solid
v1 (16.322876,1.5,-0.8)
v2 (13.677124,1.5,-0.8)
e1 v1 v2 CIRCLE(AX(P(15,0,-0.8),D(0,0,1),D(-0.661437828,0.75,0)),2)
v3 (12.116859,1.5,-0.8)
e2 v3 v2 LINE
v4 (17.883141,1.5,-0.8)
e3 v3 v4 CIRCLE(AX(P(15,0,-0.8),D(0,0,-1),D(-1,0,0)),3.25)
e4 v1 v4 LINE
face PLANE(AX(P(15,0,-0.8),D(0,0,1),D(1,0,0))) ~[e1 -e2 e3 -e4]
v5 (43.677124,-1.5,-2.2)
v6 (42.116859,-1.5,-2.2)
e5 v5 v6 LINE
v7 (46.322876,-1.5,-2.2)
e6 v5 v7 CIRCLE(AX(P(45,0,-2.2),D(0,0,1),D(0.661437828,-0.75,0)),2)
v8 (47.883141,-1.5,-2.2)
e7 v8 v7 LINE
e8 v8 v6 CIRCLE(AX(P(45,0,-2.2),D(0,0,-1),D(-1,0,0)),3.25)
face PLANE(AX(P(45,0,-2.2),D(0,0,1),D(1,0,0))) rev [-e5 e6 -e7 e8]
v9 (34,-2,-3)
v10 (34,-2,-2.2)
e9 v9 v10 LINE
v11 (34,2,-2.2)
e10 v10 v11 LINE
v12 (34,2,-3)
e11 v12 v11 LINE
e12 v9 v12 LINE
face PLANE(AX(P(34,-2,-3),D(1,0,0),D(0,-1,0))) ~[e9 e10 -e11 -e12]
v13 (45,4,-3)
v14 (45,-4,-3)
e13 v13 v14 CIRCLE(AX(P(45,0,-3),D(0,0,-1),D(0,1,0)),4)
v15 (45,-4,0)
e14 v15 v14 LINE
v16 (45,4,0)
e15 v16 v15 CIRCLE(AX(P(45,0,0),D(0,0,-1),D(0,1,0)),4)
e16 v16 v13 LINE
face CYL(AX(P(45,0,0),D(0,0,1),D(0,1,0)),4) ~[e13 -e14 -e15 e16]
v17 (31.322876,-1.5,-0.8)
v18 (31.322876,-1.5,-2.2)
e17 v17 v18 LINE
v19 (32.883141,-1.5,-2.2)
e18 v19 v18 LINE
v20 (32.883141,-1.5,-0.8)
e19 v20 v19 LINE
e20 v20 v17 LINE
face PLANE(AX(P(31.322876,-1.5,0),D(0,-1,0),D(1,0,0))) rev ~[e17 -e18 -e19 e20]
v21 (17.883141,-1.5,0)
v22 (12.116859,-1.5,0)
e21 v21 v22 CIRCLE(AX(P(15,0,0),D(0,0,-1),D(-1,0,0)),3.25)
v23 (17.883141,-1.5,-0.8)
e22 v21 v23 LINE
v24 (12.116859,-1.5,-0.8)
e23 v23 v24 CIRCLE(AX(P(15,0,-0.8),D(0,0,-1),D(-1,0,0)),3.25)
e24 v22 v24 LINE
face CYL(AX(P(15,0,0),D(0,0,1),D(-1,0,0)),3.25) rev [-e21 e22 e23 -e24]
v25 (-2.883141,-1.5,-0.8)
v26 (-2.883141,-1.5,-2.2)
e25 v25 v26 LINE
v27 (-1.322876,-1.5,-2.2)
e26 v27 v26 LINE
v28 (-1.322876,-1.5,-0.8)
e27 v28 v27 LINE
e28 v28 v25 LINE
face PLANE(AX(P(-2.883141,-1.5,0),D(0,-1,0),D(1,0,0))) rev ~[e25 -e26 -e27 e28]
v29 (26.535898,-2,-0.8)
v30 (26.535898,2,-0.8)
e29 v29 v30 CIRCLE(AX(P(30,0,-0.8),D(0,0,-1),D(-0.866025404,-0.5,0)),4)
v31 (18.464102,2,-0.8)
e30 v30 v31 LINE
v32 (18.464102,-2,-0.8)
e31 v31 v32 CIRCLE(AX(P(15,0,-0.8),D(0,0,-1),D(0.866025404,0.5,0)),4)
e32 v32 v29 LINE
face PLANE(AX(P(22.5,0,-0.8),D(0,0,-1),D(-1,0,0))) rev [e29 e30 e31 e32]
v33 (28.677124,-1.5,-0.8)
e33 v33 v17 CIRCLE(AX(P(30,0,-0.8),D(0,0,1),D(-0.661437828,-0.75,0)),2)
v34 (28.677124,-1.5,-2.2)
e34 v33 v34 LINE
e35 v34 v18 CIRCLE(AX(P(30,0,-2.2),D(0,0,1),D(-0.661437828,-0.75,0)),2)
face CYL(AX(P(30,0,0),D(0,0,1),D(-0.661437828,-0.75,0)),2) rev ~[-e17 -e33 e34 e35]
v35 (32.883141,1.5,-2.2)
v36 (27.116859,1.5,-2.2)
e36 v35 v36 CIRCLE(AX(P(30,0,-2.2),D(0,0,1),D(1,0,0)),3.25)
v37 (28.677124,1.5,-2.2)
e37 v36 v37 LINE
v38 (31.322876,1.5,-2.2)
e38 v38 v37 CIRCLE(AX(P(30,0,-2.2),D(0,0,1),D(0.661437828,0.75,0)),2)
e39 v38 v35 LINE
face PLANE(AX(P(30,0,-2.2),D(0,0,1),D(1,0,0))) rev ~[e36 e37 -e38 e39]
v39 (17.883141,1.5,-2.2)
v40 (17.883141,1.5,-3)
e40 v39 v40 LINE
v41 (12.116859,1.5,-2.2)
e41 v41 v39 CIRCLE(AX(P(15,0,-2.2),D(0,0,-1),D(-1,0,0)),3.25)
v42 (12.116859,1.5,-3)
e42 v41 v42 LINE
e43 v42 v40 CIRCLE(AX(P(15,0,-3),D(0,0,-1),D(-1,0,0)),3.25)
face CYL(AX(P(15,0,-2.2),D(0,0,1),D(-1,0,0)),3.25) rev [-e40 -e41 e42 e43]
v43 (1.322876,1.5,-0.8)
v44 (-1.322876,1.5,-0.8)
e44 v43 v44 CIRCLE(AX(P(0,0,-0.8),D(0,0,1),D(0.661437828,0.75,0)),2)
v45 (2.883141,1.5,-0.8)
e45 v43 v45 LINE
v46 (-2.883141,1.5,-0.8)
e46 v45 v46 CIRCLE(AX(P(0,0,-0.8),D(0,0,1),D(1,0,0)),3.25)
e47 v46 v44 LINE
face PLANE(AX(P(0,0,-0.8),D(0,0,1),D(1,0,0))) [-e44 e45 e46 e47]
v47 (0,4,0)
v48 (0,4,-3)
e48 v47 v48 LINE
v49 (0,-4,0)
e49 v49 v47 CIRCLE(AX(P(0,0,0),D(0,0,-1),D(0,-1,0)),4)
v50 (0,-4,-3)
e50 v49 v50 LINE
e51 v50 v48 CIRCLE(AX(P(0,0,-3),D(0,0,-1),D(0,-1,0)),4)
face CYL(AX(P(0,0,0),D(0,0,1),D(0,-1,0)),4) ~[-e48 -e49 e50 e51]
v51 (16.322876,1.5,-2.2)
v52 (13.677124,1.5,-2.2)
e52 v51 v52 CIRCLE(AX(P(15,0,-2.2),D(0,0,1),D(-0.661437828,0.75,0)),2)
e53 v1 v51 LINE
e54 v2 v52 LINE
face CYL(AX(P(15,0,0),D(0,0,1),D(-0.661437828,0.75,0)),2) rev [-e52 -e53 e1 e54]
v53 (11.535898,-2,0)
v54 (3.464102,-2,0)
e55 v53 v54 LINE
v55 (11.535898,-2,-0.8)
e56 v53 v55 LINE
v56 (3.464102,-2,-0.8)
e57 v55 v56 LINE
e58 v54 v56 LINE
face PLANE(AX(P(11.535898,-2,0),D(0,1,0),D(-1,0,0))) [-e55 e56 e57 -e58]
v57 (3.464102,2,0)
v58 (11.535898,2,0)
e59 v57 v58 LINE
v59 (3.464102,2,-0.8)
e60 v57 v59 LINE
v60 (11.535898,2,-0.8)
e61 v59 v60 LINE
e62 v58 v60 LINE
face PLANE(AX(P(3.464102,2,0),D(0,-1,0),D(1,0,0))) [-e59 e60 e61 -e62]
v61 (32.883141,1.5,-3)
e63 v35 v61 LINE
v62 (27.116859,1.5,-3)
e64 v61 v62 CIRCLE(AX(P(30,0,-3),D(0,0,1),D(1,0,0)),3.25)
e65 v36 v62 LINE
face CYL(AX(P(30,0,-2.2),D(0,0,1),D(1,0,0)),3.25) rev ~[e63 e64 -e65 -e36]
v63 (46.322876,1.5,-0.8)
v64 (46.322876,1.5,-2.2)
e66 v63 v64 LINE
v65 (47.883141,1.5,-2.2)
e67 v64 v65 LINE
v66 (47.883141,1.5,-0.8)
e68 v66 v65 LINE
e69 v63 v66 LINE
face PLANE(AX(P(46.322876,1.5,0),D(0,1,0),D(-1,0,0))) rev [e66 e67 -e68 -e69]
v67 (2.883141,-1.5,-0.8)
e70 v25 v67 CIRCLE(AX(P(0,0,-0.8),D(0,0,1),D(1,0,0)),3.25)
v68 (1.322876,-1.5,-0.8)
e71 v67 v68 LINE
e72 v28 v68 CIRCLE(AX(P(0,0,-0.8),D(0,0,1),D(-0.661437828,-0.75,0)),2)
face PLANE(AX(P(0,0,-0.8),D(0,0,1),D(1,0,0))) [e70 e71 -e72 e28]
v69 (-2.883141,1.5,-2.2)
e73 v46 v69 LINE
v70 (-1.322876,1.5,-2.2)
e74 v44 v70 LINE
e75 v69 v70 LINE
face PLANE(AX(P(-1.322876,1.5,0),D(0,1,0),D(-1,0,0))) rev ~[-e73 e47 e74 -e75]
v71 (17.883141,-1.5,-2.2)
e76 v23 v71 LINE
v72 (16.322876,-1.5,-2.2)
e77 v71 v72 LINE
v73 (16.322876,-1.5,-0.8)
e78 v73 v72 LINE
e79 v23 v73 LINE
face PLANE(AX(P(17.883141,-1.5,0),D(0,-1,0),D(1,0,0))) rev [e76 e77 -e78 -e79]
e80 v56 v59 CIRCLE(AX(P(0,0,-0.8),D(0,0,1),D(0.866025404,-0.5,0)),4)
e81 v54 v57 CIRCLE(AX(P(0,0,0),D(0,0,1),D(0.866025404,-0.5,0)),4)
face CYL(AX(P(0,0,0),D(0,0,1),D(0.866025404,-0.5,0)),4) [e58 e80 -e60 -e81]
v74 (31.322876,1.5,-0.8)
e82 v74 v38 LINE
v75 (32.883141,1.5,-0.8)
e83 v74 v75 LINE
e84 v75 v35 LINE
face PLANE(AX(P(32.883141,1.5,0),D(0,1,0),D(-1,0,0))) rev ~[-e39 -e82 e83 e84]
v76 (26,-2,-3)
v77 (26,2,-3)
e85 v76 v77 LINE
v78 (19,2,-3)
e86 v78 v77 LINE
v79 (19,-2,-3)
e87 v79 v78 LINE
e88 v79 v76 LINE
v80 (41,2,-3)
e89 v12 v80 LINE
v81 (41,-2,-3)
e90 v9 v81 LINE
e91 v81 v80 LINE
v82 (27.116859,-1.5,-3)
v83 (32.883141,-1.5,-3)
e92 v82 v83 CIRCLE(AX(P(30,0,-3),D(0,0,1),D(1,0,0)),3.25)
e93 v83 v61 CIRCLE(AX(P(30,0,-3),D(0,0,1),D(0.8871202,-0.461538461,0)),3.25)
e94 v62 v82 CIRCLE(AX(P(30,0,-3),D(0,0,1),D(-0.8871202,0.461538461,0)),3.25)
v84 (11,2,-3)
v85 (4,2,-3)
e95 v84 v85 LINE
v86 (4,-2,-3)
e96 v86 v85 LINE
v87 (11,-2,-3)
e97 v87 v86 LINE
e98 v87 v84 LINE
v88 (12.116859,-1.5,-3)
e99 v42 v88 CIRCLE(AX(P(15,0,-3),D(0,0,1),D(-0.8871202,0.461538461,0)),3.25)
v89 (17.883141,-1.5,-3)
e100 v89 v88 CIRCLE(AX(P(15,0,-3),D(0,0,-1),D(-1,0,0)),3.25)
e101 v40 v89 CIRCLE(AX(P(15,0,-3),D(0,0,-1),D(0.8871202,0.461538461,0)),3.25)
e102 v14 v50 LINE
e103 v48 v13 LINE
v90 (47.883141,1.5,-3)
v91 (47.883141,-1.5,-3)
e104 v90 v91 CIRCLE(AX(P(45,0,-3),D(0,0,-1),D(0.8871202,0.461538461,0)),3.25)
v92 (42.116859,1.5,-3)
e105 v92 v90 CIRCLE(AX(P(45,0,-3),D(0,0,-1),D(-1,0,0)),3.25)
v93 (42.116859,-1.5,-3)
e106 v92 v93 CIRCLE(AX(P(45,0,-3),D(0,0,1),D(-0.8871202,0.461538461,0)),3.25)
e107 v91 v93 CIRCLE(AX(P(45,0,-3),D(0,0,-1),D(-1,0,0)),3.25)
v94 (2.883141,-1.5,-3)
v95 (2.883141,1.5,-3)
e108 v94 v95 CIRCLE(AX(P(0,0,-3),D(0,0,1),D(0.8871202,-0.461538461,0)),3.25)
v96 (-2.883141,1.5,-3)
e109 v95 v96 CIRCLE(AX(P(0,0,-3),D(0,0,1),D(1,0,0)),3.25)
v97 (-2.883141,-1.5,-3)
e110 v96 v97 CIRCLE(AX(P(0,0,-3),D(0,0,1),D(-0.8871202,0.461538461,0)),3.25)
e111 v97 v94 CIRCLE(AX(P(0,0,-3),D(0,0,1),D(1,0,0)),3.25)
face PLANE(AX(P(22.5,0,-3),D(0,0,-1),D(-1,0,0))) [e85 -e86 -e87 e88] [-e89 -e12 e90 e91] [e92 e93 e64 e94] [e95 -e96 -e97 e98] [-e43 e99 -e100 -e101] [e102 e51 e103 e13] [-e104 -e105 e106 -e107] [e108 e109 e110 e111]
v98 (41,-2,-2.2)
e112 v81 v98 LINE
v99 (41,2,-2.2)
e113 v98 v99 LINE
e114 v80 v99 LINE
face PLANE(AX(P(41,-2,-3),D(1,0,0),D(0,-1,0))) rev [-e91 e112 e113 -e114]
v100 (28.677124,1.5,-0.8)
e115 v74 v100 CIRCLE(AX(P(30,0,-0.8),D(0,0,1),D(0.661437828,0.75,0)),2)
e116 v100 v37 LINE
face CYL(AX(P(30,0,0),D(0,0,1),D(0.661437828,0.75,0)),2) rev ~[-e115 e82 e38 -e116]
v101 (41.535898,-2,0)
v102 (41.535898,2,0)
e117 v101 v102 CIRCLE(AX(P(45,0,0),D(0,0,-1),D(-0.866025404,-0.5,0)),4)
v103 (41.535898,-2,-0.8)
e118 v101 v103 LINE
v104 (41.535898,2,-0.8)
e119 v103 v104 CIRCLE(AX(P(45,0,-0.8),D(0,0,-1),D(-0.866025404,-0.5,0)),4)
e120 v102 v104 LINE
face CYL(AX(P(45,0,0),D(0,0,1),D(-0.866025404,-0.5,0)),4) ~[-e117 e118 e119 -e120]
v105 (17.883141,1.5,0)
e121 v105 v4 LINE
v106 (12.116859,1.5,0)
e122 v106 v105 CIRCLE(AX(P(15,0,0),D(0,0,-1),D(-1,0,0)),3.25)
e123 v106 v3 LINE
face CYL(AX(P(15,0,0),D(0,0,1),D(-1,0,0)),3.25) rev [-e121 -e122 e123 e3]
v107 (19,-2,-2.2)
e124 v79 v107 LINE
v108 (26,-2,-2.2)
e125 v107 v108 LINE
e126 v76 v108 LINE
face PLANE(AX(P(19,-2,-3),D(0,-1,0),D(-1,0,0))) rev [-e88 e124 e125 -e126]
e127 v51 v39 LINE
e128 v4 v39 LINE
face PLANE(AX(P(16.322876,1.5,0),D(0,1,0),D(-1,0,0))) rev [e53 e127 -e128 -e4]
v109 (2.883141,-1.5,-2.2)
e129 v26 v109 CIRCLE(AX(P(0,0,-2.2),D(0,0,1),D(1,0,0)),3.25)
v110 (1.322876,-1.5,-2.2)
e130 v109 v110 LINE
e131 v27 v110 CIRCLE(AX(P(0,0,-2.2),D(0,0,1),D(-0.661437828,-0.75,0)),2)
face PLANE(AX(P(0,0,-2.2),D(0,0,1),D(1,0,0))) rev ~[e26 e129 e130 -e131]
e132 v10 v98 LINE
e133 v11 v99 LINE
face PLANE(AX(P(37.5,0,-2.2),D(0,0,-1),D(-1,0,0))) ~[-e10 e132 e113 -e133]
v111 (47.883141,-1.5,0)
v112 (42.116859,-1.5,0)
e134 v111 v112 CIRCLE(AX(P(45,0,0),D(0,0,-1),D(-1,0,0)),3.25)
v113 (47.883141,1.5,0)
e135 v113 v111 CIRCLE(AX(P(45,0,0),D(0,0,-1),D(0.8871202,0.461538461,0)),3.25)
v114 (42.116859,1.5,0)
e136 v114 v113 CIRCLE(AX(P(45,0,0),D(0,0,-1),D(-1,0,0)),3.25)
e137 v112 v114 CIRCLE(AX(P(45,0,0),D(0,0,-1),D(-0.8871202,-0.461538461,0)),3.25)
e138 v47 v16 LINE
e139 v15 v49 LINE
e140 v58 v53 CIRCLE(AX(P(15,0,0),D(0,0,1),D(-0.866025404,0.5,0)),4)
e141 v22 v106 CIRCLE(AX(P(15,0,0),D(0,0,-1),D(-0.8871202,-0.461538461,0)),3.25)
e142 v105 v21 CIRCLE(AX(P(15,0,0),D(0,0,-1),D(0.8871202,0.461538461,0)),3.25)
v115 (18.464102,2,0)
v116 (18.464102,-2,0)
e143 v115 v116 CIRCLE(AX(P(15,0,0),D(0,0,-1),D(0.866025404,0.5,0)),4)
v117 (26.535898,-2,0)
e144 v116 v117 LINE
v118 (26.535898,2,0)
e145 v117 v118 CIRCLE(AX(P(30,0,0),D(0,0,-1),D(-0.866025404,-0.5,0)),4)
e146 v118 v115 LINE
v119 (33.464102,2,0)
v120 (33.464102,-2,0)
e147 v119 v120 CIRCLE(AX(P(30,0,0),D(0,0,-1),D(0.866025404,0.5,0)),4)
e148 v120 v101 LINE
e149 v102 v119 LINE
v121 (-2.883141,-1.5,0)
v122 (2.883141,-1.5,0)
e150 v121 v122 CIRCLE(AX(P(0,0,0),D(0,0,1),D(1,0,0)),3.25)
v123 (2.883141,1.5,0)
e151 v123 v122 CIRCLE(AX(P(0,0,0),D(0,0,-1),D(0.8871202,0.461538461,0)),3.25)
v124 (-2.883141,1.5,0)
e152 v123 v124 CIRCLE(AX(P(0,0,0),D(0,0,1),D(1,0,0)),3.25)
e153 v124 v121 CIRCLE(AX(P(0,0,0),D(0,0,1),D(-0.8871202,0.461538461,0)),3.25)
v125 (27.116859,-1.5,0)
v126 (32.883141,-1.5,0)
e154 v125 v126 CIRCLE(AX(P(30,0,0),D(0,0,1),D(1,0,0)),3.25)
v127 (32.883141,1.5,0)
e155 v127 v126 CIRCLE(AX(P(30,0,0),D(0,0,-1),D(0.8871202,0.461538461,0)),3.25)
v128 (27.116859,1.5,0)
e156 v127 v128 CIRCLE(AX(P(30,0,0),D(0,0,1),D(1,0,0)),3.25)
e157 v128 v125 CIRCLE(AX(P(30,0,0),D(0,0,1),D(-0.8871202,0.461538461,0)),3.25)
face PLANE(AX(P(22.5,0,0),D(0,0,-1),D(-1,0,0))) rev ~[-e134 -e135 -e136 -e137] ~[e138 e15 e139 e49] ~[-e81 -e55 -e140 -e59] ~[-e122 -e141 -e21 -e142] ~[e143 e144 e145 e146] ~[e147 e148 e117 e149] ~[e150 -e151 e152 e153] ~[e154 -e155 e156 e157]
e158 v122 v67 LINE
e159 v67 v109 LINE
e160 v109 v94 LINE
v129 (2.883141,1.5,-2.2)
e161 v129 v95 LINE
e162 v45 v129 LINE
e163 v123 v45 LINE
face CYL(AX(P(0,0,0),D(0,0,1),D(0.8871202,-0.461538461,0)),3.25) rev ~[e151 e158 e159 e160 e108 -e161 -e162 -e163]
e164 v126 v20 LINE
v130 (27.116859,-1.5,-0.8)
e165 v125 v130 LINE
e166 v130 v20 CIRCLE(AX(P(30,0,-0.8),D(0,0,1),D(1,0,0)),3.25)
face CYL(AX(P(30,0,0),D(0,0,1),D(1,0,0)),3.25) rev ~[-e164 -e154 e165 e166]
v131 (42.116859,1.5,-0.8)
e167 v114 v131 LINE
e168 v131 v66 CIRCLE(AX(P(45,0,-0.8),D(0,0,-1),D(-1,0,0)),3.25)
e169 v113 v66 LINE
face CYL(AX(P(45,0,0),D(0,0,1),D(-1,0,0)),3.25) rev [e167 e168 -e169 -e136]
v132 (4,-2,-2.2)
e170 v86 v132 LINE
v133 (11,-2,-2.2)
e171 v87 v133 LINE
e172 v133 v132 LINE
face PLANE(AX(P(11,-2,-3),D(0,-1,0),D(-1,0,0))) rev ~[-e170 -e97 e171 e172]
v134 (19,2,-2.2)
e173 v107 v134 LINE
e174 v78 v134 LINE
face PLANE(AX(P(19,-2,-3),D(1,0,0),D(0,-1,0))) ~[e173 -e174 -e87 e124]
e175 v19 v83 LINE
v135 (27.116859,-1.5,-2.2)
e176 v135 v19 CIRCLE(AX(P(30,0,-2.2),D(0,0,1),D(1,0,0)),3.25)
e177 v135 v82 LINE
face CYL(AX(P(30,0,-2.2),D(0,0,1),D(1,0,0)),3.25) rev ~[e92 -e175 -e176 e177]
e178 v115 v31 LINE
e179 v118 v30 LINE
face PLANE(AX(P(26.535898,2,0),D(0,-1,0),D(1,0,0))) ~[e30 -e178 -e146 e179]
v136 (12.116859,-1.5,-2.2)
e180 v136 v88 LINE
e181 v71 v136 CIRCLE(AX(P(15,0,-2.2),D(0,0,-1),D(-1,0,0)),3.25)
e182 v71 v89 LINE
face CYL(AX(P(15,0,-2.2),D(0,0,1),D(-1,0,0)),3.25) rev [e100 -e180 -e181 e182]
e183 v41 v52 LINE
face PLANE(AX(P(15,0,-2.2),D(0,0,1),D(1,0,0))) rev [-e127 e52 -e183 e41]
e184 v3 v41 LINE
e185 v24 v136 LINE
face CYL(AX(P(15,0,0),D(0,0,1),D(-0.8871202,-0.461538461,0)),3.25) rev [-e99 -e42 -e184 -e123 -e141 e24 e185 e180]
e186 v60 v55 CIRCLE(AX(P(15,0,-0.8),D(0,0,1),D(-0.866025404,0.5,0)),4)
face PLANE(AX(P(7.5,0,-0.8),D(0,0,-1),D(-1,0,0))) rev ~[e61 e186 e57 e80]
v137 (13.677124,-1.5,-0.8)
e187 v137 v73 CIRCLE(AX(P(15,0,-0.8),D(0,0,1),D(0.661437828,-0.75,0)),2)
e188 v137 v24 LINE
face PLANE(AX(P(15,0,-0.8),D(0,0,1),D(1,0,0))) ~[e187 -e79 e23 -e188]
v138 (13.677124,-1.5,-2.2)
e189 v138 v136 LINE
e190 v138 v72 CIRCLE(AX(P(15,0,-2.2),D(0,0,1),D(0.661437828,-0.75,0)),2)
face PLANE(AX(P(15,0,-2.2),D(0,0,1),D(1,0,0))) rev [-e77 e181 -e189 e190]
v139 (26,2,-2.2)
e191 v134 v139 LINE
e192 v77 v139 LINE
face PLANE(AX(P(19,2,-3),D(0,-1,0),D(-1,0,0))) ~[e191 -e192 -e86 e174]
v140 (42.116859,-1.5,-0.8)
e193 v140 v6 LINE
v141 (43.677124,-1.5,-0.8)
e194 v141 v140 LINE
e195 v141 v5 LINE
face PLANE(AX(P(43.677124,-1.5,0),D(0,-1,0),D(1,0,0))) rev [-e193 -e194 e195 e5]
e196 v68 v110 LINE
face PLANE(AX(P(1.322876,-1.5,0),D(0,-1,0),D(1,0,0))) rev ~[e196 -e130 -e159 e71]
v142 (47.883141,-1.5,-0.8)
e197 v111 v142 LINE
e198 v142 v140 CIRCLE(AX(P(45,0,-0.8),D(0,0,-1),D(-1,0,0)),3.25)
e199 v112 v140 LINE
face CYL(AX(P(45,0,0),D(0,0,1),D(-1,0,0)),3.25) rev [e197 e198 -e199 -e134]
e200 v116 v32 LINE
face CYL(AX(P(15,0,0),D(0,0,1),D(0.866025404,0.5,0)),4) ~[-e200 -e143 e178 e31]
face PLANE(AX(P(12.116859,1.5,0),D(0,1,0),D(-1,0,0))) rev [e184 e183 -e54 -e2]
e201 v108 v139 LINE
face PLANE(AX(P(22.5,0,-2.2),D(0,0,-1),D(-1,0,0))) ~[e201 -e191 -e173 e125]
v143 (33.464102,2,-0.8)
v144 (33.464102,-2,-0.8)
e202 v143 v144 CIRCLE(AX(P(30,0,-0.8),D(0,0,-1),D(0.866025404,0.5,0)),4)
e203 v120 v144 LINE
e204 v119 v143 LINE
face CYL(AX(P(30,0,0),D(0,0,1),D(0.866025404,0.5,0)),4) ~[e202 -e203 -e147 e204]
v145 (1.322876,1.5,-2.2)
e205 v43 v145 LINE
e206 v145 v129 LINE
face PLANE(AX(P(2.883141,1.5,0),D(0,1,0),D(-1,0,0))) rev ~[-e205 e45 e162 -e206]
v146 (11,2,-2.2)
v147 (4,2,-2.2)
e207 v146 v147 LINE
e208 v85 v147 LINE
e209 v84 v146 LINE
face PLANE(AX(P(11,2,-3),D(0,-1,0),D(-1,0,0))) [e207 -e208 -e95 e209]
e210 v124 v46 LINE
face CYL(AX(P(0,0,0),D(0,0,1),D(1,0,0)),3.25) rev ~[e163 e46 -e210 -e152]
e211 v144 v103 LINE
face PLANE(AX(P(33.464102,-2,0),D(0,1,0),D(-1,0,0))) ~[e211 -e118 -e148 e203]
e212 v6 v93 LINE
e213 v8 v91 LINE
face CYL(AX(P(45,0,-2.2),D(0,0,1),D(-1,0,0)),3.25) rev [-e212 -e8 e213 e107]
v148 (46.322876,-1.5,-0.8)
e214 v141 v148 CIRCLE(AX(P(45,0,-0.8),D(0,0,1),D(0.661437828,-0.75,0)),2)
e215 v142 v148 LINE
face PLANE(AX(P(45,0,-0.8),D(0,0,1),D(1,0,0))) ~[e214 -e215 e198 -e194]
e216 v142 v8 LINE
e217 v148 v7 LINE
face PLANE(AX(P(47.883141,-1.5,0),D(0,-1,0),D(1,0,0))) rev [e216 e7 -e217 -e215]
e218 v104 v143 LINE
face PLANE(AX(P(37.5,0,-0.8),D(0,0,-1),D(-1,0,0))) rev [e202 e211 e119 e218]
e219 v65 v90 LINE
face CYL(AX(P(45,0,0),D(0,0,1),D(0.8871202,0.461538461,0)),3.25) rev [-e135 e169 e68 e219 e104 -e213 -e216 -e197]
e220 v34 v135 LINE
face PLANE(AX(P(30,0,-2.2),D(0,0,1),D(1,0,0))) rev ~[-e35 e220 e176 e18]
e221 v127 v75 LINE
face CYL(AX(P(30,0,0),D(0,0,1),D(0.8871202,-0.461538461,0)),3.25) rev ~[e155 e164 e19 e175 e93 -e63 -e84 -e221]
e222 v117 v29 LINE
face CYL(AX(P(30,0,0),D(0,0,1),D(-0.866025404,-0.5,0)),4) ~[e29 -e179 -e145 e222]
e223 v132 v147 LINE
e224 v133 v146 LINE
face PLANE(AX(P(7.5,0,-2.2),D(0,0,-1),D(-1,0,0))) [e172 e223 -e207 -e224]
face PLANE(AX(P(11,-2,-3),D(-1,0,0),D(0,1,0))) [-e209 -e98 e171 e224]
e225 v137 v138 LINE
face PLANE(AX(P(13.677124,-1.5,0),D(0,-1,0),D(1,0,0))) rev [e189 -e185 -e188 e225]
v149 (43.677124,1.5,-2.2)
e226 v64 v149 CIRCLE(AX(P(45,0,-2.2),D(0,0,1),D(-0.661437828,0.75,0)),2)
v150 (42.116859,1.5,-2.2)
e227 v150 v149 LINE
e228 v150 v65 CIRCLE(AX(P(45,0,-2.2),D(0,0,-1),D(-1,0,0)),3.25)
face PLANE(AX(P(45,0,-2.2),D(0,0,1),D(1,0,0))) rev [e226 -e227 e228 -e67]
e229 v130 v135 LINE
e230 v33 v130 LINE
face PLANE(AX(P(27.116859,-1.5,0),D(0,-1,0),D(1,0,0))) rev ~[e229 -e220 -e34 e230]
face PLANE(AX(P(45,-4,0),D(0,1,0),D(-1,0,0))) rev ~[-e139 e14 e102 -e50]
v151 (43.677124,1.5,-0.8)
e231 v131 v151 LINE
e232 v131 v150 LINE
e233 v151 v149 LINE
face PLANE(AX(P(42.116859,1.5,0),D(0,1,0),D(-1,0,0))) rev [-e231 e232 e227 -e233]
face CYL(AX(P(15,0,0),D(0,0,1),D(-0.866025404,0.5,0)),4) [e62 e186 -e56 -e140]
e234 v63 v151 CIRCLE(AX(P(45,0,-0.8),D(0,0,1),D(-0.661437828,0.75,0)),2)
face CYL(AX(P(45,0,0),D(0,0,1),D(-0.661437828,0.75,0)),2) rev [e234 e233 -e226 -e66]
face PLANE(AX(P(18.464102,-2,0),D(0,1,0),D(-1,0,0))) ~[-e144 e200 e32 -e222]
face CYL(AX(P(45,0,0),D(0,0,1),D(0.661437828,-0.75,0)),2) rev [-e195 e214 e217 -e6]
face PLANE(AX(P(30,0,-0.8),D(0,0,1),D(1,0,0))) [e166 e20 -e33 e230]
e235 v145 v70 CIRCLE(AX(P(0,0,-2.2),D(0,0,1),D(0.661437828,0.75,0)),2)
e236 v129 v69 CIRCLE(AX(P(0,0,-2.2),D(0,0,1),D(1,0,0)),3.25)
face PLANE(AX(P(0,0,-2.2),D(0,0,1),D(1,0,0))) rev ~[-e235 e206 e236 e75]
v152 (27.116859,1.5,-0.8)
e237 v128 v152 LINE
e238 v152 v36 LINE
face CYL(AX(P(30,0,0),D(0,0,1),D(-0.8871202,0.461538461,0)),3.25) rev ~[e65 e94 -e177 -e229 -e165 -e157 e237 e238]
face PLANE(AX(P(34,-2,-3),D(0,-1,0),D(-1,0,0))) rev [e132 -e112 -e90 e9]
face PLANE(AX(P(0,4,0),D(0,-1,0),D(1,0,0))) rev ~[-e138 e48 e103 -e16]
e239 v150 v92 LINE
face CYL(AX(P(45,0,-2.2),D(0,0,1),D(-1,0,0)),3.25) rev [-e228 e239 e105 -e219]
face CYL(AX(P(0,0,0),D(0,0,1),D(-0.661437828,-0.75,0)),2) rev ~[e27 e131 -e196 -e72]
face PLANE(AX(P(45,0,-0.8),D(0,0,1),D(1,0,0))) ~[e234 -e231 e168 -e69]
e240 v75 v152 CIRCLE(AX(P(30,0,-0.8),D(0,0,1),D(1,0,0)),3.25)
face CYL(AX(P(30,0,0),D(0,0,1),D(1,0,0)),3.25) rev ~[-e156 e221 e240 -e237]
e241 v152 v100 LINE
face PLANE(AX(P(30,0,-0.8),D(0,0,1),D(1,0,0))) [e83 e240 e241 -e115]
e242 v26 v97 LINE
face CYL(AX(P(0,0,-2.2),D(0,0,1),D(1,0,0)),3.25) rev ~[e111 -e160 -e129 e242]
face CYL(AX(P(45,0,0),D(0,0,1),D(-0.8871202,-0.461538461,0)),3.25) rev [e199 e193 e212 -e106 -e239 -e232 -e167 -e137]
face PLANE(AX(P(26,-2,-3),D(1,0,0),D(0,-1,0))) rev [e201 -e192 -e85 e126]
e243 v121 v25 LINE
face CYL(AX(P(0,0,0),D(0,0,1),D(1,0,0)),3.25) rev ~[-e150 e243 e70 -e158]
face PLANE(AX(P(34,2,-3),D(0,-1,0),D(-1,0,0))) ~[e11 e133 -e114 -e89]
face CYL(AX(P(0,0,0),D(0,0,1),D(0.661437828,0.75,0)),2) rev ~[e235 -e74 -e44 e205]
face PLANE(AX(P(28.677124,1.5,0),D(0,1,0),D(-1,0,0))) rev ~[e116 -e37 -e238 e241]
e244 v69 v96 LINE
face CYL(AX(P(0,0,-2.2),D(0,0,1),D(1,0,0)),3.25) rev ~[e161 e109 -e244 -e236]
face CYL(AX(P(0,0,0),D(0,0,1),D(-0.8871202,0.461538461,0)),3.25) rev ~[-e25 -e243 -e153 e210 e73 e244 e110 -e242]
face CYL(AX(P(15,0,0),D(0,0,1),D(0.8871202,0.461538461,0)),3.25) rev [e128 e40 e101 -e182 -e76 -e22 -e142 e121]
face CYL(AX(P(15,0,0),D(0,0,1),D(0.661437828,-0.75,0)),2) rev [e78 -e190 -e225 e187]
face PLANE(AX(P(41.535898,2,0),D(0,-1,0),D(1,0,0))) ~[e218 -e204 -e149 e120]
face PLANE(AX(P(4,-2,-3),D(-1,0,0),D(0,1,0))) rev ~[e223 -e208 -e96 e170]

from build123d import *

# Parameters (mm, degrees)
EXTRUDE_1_DEPTH          = 3
CUT_EXTRUDE_1_REACH      = 51.254
SKETCH_3_R               = 3.25
CUT_EXTRUDE_2_DEPTH      = 0.8
CUT_EXTRUDE_START        = -2.2
SKETCH_3_2_R             = 3.25
CUT_EXTRUDE_3_DEPTH      = 0.8
CUT_EXTRUDE_4_DEPTH      = 0.8
SKETCH_5_W               = 7
SKETCH_5_H               = 4
CUT_EXTRUDE_6_DEPTH      = 0.8
MIRROR_2_COPY_1_REACH    = 51.254
MIRROR_2_COPY_2_SKETCH_R = 3.25
MIRROR_2_COPY_2_DEPTH    = 0.8
MIRROR_START             = -2.2
MIRROR_2_COPY_3_SKETCH_R = 3.25
MIRROR_2_COPY_3_DEPTH    = 0.8


with BuildPart() as part:
    # 草图1 → 凸台-拉伸1 (new body)
    with BuildSketch(Plane.XY):
        with BuildLine():
            Line((0, 4), (45, 4))
            ThreePointArc((45, 4), (49, 0), (45, -4))
            Line((45, -4), (0, -4))
            ThreePointArc((0, -4), (-4, 0), (0, 4))
        make_face()
    extrude(amount=-EXTRUDE_1_DEPTH)

    # 草图2 → 切除-拉伸1 (cut, up to next)
    with BuildSketch(Plane.XY, mode=Mode.PRIVATE) as cut_extrude_1_sk1:
        with BuildLine():
            Line((1.322875656, -1.5), (2.883140649, -1.5))
            ThreePointArc((2.883140649, -1.5), (3.25, 0), (2.883140649, 1.5))
            Line((2.883140649, 1.5), (1.322875656, 1.5))
            ThreePointArc((1.322875656, 1.5), (0, 2), (-1.322875656, 1.5))
            Line((-1.322875656, 1.5), (-2.883140649, 1.5))
            ThreePointArc((-2.883140649, 1.5), (-3.25, 0), (-2.883140649, -1.5))
            Line((-2.883140649, -1.5), (-1.322875656, -1.5))
            ThreePointArc((-1.322875656, -1.5), (0, -2), (1.322875656, -1.5))
        make_face()
    cut_extrude_1_tool1 = extrude(cut_extrude_1_sk1.sketch, amount=-CUT_EXTRUDE_1_REACH, mode=Mode.PRIVATE) & part.part
    cut_extrude_1 = cut_extrude_1_tool1.solids().sort_by_distance((0, 0, 0))[0]
    add(cut_extrude_1, mode=Mode.SUBTRACT)

    # 草图3 → 切除-拉伸2 (cut)
    with BuildSketch(Plane.XY):
        Circle(SKETCH_3_R)
    cut_extrude_2 = extrude(amount=-CUT_EXTRUDE_2_DEPTH, mode=Mode.SUBTRACT)

    # 草图3<2> → 切除-拉伸3 (cut)
    with BuildSketch(Plane.XY.offset(CUT_EXTRUDE_START)):
        Circle(SKETCH_3_2_R)
    cut_extrude_3 = extrude(amount=-CUT_EXTRUDE_3_DEPTH, mode=Mode.SUBTRACT)

    # 草图4 → 切除-拉伸4 (cut)
    with BuildSketch(Plane.XY):
        with BuildLine():
            Line((3.464101615, 2), (11.535898385, 2))
            ThreePointArc((11.535898385, 2), (11, 0), (11.535898385, -2))
            Line((11.535898385, -2), (3.464101615, -2))
            ThreePointArc((3.464101615, -2), (4, 0), (3.464101615, 2))
        make_face()
    cut_extrude_4 = extrude(amount=-CUT_EXTRUDE_4_DEPTH, mode=Mode.SUBTRACT)

    # 草图5 → 切除-拉伸6 (cut)
    with BuildSketch(Plane(origin=(0, 0, -3), x_dir=(-1, 0, 0), z_dir=(0, 0, -1))):
        with Locations((-7.5, 0)):
            Rectangle(SKETCH_5_W, SKETCH_5_H)
    cut_extrude_6 = extrude(amount=-CUT_EXTRUDE_6_DEPTH, mode=Mode.SUBTRACT)

    # 镜向1: 切除-拉伸1, 切除-拉伸2, 切除-拉伸3 across plane
    add(cut_extrude_1.mirror(Plane(origin=(7.5, 0, 0), x_dir=(0, 0, 1), z_dir=(1, 0, 0))), mode=Mode.SUBTRACT)
    add(cut_extrude_2.mirror(Plane(origin=(7.5, 0, 0), x_dir=(0, 0, 1), z_dir=(1, 0, 0))), mode=Mode.SUBTRACT)
    add(cut_extrude_3.mirror(Plane(origin=(7.5, 0, 0), x_dir=(0, 0, 1), z_dir=(1, 0, 0))), mode=Mode.SUBTRACT)

    # 镜向2: 切除-拉伸1, 切除-拉伸2, 切除-拉伸3 across plane
    add(cut_extrude_1.mirror(Plane(origin=(22.5, 0, 0), x_dir=(0, 0, 1), z_dir=(1, 0, 0))), mode=Mode.SUBTRACT)
    add(cut_extrude_2.mirror(Plane(origin=(22.5, 0, 0), x_dir=(0, 0, 1), z_dir=(1, 0, 0))), mode=Mode.SUBTRACT)
    add(cut_extrude_3.mirror(Plane(origin=(22.5, 0, 0), x_dir=(0, 0, 1), z_dir=(1, 0, 0))), mode=Mode.SUBTRACT)

    # 镜向2 copy 1 sketch → 镜向2 copy 1 (cut, up to next)
    with BuildSketch(Plane(origin=(30, 0, 0), x_dir=(1, 0, 0), z_dir=(0, 0, 1)), mode=Mode.PRIVATE) as mirror_2_copy_1_sk1:
        with BuildLine():
            Line((1.322875656, -1.5), (2.883140649, -1.5))
            ThreePointArc((2.883140649, -1.5), (3.25, 0), (2.883140649, 1.5))
            Line((2.883140649, 1.5), (1.322875656, 1.5))
            ThreePointArc((1.322875656, 1.5), (0, 2), (-1.322875656, 1.5))
            Line((-1.322875656, 1.5), (-2.883140649, 1.5))
            ThreePointArc((-2.883140649, 1.5), (-3.25, 0), (-2.883140649, -1.5))
            Line((-2.883140649, -1.5), (-1.322875656, -1.5))
            ThreePointArc((-1.322875656, -1.5), (0, -2), (1.322875656, -1.5))
        make_face()
    mirror_2_copy_1_tool1 = extrude(mirror_2_copy_1_sk1.sketch, amount=-MIRROR_2_COPY_1_REACH, mode=Mode.PRIVATE) & part.part
    add(mirror_2_copy_1_tool1.solids().sort_by_distance((30, 0, 0))[0], mode=Mode.SUBTRACT)

    # 镜向2 copy 2 sketch → 镜向2 copy 2 (cut)
    with BuildSketch(Plane(origin=(30, 0, 0), x_dir=(1, 0, 0), z_dir=(0, 0, 1))):
        Circle(MIRROR_2_COPY_2_SKETCH_R)
    extrude(amount=-MIRROR_2_COPY_2_DEPTH, mode=Mode.SUBTRACT)

    # 镜向2 copy 3 sketch → 镜向2 copy 3 (cut)
    with BuildSketch(Plane(origin=(30, 0, 0), x_dir=(1, 0, 0), z_dir=(0, 0, 1)).offset(MIRROR_START)):
        Circle(MIRROR_2_COPY_3_SKETCH_R)
    extrude(amount=-MIRROR_2_COPY_3_DEPTH, mode=Mode.SUBTRACT)

    # 镜向3: 切除-拉伸4, 切除-拉伸6 across plane
    add(cut_extrude_4.mirror(Plane(origin=(15, 0, 0), x_dir=(0, 0, 1), z_dir=(1, 0, 0))), mode=Mode.SUBTRACT)
    add(cut_extrude_6.mirror(Plane(origin=(15, 0, 0), x_dir=(0, 0, 1), z_dir=(1, 0, 0))), mode=Mode.SUBTRACT)

    # 镜向4: 切除-拉伸4, 切除-拉伸6 across plane
    add(cut_extrude_4.mirror(Plane(origin=(22.5, 0, 0), x_dir=(0, 0, 1), z_dir=(1, 0, 0))), mode=Mode.SUBTRACT)
    add(cut_extrude_6.mirror(Plane(origin=(22.5, 0, 0), x_dir=(0, 0, 1), z_dir=(1, 0, 0))), mode=Mode.SUBTRACT)


solid = part.part
